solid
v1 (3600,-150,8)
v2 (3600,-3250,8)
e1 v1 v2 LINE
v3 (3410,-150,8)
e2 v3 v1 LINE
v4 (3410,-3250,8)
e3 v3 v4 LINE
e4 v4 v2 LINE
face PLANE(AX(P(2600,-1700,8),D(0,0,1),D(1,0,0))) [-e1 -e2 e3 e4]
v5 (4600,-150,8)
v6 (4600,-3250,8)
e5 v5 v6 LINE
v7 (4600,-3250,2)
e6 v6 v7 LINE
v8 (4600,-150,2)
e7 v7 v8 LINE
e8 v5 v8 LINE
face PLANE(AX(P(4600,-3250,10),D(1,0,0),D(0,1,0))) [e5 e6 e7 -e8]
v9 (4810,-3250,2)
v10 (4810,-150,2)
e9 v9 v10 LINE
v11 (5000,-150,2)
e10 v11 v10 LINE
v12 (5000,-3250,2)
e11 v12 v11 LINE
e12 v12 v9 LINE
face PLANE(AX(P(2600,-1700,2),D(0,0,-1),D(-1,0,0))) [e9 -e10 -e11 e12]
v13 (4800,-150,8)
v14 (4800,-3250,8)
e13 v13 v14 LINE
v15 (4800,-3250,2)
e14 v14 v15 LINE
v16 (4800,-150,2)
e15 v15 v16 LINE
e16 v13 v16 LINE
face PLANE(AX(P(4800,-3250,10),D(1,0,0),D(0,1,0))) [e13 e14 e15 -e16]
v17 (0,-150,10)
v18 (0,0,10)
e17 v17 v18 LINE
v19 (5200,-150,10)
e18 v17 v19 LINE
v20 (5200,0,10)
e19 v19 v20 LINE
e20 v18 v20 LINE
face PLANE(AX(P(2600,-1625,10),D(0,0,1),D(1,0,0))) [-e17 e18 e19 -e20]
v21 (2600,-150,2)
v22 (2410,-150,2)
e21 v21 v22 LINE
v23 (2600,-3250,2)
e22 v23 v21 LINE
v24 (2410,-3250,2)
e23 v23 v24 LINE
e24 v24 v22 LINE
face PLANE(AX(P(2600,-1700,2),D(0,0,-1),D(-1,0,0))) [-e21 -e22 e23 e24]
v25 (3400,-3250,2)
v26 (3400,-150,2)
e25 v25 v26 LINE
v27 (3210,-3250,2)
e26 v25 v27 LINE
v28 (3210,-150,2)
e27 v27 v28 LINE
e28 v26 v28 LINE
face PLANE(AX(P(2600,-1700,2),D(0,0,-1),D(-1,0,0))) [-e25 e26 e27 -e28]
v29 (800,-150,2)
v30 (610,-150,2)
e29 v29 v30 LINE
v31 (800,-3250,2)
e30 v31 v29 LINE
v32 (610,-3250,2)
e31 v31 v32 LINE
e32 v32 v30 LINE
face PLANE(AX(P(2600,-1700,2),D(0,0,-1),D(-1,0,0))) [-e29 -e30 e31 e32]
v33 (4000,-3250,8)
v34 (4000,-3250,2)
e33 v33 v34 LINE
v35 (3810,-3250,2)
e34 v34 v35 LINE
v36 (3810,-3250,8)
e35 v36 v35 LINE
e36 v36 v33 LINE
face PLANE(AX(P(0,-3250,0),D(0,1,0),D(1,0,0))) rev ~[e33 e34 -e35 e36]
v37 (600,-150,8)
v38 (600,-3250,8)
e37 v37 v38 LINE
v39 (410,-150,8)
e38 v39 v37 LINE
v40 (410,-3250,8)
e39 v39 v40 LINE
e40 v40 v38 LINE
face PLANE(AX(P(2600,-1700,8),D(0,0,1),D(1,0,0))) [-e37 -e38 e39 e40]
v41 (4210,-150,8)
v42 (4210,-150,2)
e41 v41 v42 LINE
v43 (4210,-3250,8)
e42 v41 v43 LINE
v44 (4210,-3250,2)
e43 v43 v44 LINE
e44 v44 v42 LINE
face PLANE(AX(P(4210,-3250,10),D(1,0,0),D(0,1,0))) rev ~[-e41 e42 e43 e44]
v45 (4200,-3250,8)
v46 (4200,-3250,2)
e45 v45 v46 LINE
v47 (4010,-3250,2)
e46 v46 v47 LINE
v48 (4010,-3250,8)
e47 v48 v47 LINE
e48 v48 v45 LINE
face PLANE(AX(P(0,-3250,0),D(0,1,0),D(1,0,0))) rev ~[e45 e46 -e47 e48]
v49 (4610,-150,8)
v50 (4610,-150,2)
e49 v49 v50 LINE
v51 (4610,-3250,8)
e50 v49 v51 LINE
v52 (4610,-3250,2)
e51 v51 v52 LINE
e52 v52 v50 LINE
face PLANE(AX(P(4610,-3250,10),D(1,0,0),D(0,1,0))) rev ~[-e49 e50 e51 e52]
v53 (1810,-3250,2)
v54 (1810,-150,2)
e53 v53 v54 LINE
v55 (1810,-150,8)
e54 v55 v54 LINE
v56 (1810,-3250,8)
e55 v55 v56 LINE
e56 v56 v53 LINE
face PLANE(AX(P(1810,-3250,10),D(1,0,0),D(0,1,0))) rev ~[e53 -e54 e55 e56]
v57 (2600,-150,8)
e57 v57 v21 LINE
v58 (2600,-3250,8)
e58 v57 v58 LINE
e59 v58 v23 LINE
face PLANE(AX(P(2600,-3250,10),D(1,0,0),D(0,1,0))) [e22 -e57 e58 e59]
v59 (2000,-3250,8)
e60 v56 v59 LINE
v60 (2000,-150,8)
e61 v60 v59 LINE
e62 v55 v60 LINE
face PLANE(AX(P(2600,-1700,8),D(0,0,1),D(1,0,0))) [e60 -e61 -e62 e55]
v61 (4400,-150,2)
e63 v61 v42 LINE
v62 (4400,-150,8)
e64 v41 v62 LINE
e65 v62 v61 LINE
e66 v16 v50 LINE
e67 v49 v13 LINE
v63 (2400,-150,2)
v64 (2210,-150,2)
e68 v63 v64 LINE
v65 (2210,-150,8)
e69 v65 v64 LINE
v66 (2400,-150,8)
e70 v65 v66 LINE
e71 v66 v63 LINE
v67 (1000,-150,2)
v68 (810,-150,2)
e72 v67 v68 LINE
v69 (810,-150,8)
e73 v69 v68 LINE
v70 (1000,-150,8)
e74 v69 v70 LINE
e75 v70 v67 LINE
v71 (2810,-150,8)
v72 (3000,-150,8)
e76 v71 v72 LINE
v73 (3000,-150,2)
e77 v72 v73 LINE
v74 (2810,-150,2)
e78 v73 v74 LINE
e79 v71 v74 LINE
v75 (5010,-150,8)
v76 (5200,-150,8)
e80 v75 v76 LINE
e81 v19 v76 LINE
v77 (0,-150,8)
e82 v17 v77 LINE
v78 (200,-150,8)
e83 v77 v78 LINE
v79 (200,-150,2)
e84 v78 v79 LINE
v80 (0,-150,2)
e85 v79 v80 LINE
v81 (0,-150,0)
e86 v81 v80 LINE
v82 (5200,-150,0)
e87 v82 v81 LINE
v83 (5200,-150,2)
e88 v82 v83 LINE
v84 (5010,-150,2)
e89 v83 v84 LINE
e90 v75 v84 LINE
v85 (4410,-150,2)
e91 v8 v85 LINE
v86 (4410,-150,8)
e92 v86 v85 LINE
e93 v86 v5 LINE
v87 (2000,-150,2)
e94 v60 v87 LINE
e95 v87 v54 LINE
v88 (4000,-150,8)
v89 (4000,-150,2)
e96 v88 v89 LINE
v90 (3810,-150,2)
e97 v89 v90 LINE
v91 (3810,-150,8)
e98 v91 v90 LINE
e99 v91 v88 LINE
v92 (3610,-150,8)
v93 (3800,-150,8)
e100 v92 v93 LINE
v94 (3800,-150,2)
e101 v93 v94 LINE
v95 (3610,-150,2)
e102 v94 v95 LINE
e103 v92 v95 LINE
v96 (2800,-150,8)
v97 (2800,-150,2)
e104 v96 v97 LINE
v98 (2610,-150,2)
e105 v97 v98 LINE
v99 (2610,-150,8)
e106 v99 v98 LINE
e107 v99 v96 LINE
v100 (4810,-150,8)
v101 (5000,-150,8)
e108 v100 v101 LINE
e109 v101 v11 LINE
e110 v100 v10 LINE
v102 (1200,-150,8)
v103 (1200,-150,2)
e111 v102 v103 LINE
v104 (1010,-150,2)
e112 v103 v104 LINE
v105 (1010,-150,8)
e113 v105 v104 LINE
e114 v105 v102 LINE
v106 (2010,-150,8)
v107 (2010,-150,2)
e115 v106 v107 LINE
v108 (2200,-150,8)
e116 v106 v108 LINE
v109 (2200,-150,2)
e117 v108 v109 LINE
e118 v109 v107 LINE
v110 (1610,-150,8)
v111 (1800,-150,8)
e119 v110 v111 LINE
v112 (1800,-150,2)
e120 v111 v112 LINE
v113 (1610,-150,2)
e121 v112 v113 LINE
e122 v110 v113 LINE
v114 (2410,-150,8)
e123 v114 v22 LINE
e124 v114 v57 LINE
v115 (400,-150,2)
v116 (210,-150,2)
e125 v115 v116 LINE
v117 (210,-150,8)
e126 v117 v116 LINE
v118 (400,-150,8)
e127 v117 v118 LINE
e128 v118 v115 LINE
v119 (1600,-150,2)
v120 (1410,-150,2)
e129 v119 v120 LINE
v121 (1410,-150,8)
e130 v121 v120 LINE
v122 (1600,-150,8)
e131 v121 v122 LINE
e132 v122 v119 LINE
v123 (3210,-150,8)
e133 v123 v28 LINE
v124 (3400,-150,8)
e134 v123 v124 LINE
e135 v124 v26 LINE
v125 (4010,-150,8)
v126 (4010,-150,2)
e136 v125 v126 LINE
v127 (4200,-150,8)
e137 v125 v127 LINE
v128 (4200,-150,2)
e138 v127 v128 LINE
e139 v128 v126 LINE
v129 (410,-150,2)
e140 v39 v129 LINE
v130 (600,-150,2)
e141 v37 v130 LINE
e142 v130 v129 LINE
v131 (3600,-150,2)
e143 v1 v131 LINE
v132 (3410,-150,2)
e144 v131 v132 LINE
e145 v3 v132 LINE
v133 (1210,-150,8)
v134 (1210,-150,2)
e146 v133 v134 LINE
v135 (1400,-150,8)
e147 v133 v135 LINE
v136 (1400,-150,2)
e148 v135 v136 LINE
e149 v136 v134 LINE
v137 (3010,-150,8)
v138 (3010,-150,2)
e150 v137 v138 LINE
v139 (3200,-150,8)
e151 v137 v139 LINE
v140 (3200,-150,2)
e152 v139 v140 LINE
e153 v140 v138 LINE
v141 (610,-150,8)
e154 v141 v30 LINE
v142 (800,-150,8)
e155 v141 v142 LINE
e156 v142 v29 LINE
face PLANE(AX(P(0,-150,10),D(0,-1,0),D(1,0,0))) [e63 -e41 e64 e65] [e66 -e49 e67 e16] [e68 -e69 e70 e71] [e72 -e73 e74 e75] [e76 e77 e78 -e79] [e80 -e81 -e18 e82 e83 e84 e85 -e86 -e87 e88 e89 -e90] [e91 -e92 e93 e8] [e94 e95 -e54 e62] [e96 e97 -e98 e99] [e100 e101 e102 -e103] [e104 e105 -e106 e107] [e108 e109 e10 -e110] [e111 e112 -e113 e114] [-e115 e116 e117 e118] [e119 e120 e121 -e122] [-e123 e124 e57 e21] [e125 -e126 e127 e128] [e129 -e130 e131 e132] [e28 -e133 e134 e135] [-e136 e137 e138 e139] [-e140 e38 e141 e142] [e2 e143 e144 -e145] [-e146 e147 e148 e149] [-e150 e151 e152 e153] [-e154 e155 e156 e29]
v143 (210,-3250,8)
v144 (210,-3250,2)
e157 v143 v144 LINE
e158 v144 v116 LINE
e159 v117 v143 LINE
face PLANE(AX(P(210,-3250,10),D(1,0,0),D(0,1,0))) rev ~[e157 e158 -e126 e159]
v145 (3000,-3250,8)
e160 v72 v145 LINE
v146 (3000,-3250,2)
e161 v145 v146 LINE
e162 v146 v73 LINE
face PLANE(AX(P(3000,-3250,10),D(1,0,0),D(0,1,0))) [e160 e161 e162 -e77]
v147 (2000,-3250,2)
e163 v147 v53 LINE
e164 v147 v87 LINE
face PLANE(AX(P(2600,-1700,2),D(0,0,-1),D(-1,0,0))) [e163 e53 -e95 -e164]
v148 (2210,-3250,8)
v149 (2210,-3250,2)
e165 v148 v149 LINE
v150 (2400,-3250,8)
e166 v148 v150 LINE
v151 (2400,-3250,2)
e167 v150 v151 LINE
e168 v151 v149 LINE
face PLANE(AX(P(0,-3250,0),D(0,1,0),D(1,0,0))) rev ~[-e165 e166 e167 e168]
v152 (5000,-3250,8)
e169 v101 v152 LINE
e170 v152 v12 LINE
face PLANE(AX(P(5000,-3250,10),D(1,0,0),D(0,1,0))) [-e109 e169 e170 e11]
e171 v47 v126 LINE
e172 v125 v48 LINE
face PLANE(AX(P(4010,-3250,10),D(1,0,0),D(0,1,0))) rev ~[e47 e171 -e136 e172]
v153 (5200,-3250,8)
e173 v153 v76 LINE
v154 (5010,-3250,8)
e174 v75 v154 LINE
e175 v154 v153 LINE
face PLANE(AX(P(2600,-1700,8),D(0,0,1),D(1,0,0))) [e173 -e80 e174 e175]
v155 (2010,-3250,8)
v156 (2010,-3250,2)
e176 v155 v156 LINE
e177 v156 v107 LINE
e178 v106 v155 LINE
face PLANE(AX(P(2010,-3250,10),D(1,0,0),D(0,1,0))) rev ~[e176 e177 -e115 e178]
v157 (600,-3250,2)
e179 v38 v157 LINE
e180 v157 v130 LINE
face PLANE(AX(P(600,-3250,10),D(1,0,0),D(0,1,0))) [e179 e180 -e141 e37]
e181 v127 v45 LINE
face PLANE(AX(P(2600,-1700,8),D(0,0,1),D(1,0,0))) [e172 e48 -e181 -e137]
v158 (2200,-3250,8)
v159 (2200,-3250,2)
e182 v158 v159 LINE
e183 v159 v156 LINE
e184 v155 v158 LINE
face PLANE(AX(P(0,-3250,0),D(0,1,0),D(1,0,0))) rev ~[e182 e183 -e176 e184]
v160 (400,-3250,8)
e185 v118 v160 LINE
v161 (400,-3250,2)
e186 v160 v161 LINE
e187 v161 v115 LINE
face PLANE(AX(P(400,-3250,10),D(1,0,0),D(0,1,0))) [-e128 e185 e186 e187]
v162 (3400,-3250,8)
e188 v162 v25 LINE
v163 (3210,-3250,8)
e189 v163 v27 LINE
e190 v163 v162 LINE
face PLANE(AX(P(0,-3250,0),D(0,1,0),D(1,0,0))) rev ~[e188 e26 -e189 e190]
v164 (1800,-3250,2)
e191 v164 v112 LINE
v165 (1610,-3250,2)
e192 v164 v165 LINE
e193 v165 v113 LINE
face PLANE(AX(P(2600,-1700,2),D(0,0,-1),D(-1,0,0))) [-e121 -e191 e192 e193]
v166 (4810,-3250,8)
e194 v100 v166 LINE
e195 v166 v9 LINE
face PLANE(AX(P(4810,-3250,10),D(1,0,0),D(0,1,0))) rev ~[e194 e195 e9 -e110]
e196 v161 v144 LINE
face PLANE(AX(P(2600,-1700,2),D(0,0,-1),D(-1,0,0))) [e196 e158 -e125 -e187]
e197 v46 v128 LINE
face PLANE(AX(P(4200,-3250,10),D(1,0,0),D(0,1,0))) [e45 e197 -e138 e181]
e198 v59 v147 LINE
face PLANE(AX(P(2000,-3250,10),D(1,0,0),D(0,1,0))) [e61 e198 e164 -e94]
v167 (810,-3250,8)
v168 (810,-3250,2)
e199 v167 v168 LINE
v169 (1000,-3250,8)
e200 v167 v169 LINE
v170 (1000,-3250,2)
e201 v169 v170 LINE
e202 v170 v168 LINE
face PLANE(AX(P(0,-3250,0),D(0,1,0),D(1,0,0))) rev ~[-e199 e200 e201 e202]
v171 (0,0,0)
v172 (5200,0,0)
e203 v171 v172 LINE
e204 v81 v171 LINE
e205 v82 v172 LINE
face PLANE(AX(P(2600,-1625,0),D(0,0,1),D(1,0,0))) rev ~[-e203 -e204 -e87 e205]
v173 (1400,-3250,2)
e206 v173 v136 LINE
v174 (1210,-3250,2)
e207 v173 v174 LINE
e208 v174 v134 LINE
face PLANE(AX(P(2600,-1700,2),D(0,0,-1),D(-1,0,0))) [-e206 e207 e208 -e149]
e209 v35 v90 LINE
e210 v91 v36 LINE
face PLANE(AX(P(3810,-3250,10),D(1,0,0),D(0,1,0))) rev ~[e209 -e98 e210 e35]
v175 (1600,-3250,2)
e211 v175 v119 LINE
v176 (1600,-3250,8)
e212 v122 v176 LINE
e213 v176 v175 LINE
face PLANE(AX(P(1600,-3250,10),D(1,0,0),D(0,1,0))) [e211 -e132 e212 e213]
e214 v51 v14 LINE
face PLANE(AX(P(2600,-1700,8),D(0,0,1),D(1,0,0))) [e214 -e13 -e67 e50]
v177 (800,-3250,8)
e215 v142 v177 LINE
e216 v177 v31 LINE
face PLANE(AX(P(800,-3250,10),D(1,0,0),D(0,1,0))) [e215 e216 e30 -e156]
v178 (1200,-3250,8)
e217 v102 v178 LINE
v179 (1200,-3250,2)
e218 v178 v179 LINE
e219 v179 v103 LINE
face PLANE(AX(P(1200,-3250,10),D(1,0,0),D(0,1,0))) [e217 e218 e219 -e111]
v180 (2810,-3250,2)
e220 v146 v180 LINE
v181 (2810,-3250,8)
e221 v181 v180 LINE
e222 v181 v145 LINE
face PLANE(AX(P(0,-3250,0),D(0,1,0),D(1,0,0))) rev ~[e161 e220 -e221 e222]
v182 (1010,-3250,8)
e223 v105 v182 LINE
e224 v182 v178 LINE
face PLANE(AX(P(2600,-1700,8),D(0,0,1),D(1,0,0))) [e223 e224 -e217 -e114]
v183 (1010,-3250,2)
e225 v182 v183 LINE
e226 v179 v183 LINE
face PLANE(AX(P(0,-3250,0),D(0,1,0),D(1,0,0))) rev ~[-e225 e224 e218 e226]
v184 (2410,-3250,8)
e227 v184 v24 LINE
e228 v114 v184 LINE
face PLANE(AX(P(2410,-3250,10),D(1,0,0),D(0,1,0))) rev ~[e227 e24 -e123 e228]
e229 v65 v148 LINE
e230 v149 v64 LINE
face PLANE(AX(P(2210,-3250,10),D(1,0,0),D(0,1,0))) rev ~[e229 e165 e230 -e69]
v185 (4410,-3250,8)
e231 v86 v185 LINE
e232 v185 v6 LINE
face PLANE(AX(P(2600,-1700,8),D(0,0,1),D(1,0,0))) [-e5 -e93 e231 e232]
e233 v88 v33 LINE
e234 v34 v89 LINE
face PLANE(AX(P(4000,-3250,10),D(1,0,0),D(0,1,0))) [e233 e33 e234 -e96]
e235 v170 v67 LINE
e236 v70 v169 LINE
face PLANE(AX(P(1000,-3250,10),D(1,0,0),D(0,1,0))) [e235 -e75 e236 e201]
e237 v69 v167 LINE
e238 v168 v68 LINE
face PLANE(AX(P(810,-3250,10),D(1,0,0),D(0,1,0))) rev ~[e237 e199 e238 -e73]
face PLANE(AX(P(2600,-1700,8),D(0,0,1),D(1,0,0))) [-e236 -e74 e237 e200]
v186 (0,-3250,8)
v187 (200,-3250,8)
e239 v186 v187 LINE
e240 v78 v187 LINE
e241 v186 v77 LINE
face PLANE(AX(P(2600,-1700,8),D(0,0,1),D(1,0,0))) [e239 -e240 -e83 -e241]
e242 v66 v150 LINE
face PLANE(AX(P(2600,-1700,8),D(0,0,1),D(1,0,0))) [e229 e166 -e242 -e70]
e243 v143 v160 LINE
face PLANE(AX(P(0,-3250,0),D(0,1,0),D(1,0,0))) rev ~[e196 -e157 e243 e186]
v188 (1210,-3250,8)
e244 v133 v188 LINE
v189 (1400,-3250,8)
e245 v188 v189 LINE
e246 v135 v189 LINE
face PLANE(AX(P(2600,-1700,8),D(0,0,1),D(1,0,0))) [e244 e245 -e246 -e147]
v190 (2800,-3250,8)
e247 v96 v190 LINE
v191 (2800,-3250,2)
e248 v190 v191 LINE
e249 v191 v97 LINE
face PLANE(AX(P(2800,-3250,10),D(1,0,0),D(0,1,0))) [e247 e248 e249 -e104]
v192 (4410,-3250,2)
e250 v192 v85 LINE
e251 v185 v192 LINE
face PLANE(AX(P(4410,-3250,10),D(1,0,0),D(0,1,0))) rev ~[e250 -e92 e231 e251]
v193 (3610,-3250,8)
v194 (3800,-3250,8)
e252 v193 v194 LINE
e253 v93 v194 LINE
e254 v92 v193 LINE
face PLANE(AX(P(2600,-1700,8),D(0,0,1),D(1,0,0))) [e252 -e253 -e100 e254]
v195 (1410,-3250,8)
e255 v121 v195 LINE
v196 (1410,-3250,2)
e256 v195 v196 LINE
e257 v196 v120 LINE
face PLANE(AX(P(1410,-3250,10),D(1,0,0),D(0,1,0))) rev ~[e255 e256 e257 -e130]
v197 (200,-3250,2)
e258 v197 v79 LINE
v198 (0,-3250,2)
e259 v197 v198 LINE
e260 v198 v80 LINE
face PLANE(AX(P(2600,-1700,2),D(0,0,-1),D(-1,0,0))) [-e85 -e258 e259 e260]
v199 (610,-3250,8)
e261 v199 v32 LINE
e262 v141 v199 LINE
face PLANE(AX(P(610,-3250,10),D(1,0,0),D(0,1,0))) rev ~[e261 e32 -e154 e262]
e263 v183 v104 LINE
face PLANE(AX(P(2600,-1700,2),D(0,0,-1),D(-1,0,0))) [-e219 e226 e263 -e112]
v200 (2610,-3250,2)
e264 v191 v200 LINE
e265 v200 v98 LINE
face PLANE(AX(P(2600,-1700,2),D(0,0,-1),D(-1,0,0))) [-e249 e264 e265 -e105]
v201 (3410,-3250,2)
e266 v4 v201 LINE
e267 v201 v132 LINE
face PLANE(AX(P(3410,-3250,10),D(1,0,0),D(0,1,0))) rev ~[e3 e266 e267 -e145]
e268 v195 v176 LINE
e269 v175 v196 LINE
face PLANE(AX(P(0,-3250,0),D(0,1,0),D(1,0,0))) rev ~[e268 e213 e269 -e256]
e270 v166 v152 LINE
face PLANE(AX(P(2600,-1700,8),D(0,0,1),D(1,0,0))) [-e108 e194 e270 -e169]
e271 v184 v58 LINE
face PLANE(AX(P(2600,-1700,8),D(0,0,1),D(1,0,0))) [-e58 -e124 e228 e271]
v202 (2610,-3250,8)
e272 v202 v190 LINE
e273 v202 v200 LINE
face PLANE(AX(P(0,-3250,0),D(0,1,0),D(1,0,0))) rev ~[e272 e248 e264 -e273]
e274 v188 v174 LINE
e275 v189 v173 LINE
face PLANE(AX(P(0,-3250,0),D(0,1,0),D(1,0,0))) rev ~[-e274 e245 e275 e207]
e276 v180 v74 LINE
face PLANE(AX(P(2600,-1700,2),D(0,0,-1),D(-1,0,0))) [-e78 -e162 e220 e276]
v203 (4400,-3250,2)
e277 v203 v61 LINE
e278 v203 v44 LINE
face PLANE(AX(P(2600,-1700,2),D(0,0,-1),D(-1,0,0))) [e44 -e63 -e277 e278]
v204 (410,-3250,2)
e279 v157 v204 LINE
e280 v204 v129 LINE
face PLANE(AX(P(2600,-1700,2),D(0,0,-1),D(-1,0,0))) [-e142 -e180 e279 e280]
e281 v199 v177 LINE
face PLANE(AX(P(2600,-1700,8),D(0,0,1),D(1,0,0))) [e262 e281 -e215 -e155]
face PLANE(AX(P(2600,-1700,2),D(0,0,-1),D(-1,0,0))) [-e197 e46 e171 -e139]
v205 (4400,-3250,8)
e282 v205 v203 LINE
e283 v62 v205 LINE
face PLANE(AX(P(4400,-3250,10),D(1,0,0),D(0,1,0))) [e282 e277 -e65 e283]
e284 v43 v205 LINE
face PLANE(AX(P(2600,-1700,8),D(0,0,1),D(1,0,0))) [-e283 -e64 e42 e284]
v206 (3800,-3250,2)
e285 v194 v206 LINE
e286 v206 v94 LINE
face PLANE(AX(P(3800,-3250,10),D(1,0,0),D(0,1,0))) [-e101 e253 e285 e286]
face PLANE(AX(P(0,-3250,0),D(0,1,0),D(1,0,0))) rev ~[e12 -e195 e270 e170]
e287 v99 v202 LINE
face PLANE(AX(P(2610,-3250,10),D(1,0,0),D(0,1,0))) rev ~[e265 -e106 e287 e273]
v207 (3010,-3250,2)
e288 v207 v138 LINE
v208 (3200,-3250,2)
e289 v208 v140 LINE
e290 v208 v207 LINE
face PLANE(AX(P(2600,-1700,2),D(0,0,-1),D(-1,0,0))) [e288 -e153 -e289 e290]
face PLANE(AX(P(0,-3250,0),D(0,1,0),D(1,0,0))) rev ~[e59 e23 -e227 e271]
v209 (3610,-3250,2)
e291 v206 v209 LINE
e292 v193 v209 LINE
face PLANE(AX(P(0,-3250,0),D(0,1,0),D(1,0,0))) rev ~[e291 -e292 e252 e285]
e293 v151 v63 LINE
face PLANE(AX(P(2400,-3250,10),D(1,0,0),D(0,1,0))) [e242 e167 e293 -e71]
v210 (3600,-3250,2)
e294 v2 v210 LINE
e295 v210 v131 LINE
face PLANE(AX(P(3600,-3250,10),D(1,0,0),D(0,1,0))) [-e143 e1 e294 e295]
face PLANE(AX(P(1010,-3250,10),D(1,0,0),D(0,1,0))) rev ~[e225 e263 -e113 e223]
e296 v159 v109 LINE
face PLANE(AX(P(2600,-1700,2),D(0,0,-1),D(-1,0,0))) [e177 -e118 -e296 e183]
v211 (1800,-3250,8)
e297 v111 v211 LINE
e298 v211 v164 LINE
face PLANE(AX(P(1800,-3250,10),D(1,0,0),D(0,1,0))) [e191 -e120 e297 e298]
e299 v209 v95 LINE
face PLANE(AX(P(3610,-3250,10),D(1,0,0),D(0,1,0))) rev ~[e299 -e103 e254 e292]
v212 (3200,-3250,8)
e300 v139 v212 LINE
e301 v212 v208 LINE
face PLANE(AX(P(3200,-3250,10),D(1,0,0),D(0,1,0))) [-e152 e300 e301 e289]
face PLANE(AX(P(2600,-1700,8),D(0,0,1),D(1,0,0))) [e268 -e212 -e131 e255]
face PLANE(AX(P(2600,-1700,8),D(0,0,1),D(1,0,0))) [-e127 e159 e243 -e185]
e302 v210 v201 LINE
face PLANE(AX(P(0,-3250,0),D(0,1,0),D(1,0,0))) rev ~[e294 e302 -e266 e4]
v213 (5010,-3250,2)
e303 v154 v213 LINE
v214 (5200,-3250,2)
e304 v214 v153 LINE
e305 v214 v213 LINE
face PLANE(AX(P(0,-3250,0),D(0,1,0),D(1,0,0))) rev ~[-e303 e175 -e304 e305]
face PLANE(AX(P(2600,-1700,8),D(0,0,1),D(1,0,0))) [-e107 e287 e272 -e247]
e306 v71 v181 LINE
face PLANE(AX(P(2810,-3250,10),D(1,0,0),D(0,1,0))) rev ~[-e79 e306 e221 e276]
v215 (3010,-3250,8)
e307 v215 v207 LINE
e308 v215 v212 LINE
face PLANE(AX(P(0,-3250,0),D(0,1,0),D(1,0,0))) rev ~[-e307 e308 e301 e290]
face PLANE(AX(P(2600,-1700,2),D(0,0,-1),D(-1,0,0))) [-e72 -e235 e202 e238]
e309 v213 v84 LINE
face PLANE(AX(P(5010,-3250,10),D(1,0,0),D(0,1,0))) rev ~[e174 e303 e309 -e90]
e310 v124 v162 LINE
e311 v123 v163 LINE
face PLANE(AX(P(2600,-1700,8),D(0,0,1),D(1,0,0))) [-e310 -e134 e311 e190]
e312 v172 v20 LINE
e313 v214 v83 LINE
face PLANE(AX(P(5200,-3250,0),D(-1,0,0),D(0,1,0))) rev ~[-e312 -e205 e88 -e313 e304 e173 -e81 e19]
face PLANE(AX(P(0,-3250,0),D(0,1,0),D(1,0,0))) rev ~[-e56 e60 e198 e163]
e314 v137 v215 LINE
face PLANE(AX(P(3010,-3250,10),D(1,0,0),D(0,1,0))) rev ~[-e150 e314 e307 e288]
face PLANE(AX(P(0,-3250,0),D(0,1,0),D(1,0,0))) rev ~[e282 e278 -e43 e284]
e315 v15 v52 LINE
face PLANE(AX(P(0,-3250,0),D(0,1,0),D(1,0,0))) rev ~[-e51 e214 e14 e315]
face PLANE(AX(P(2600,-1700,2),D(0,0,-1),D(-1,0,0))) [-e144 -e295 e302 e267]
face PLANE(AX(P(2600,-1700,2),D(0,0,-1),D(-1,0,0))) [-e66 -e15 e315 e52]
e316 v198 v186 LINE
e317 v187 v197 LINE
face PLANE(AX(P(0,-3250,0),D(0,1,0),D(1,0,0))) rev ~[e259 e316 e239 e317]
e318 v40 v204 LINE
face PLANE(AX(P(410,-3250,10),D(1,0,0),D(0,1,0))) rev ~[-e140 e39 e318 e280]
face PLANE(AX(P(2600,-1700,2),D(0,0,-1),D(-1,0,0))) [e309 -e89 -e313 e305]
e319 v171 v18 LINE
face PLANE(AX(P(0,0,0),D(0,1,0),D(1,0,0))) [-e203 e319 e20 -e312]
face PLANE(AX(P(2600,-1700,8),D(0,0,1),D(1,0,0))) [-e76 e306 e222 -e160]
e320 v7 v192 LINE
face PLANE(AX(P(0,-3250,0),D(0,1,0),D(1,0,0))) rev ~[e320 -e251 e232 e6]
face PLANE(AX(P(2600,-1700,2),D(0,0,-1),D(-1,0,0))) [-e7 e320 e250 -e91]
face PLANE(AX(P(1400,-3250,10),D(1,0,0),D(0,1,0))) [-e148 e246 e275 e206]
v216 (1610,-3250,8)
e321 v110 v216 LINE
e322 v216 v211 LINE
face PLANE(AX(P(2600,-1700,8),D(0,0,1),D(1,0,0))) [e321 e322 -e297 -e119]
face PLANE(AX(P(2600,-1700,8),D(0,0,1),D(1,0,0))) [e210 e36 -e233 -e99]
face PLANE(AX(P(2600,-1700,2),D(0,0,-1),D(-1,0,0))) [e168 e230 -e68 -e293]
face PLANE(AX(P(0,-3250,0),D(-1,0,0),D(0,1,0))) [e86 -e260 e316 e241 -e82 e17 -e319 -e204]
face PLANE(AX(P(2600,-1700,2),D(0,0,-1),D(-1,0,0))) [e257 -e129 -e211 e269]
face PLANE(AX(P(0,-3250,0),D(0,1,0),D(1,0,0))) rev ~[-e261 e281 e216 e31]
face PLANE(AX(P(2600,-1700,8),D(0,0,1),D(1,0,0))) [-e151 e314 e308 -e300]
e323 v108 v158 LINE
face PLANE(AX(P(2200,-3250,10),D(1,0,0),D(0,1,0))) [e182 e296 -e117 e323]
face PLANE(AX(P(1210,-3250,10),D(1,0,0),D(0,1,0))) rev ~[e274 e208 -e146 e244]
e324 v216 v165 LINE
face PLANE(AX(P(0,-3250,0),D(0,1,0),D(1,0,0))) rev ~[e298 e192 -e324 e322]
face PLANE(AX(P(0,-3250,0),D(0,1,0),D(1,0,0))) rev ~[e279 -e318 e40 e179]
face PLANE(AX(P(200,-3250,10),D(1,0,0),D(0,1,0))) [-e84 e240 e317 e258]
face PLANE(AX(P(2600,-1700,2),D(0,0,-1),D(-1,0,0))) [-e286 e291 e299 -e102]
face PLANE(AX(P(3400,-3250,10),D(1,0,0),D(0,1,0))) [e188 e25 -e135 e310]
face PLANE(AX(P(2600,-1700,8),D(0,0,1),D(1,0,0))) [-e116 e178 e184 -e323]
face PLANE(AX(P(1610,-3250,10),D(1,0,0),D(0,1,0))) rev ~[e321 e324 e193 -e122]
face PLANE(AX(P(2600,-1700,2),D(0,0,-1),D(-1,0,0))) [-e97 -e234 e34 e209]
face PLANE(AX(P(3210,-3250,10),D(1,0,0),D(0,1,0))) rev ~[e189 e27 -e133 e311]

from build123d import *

# Parameters (mm, degrees)
CROQUIS1_W              = 5200
CROQUIS1_H              = 3250
SALIENTE_EXTRUIR1_DEPTH = 10
CROQUIS2_W              = 10
CROQUIS2_H              = 3100
CORTAR_EXTRUIR1_DEPTH   = 10
MATRIZL1_COUNT          = 25
MATRIZL1_PITCH          = 200
CROQUIS4_W              = 5200
CROQUIS4_H              = 3100
CORTAR_EXTRUIR2_DEPTH   = 2
CROQUIS5_W              = 5200
CROQUIS5_H              = 3100
CORTAR_EXTRUIR3_DEPTH   = 2


with BuildPart() as part:
    # Croquis1 → Saliente-Extruir1 (new body)
    with BuildSketch(Plane.XY):
        with Locations((2600, -1625)):
            Rectangle(CROQUIS1_W, CROQUIS1_H)
    extrude(amount=SALIENTE_EXTRUIR1_DEPTH)

    # Croquis2 → Cortar-Extruir1 (cut)
    with BuildSketch(Plane.XY.offset(10)):
        with Locations((205, -1700)):
            Rectangle(CROQUIS2_W, CROQUIS2_H)
    cortar_extruir1 = extrude(amount=-CORTAR_EXTRUIR1_DEPTH, mode=Mode.SUBTRACT)

    # MatrizL1: Cortar-Extruir1 ×25
    with Locations(*[(i * MATRIZL1_PITCH, 0, 0) for i in range(1, MATRIZL1_COUNT)]):
        add(cortar_extruir1, mode=Mode.SUBTRACT)

    # Croquis4 → Cortar-Extruir2 (cut)
    with BuildSketch(Plane.XY.offset(10)):
        with Locations((2600, -1700)):
            Rectangle(CROQUIS4_W, CROQUIS4_H)
    extrude(amount=-CORTAR_EXTRUIR2_DEPTH, mode=Mode.SUBTRACT)

    # Croquis5 → Cortar-Extruir3 (cut)
    with BuildSketch(Plane(origin=(0, 0, 0), x_dir=(-1, 0, 0), z_dir=(0, 0, -1))):
        with Locations((-2600, -1700)):
            Rectangle(CROQUIS5_W, CROQUIS5_H)
    extrude(amount=-CORTAR_EXTRUIR3_DEPTH, mode=Mode.SUBTRACT)


solid = part.part
